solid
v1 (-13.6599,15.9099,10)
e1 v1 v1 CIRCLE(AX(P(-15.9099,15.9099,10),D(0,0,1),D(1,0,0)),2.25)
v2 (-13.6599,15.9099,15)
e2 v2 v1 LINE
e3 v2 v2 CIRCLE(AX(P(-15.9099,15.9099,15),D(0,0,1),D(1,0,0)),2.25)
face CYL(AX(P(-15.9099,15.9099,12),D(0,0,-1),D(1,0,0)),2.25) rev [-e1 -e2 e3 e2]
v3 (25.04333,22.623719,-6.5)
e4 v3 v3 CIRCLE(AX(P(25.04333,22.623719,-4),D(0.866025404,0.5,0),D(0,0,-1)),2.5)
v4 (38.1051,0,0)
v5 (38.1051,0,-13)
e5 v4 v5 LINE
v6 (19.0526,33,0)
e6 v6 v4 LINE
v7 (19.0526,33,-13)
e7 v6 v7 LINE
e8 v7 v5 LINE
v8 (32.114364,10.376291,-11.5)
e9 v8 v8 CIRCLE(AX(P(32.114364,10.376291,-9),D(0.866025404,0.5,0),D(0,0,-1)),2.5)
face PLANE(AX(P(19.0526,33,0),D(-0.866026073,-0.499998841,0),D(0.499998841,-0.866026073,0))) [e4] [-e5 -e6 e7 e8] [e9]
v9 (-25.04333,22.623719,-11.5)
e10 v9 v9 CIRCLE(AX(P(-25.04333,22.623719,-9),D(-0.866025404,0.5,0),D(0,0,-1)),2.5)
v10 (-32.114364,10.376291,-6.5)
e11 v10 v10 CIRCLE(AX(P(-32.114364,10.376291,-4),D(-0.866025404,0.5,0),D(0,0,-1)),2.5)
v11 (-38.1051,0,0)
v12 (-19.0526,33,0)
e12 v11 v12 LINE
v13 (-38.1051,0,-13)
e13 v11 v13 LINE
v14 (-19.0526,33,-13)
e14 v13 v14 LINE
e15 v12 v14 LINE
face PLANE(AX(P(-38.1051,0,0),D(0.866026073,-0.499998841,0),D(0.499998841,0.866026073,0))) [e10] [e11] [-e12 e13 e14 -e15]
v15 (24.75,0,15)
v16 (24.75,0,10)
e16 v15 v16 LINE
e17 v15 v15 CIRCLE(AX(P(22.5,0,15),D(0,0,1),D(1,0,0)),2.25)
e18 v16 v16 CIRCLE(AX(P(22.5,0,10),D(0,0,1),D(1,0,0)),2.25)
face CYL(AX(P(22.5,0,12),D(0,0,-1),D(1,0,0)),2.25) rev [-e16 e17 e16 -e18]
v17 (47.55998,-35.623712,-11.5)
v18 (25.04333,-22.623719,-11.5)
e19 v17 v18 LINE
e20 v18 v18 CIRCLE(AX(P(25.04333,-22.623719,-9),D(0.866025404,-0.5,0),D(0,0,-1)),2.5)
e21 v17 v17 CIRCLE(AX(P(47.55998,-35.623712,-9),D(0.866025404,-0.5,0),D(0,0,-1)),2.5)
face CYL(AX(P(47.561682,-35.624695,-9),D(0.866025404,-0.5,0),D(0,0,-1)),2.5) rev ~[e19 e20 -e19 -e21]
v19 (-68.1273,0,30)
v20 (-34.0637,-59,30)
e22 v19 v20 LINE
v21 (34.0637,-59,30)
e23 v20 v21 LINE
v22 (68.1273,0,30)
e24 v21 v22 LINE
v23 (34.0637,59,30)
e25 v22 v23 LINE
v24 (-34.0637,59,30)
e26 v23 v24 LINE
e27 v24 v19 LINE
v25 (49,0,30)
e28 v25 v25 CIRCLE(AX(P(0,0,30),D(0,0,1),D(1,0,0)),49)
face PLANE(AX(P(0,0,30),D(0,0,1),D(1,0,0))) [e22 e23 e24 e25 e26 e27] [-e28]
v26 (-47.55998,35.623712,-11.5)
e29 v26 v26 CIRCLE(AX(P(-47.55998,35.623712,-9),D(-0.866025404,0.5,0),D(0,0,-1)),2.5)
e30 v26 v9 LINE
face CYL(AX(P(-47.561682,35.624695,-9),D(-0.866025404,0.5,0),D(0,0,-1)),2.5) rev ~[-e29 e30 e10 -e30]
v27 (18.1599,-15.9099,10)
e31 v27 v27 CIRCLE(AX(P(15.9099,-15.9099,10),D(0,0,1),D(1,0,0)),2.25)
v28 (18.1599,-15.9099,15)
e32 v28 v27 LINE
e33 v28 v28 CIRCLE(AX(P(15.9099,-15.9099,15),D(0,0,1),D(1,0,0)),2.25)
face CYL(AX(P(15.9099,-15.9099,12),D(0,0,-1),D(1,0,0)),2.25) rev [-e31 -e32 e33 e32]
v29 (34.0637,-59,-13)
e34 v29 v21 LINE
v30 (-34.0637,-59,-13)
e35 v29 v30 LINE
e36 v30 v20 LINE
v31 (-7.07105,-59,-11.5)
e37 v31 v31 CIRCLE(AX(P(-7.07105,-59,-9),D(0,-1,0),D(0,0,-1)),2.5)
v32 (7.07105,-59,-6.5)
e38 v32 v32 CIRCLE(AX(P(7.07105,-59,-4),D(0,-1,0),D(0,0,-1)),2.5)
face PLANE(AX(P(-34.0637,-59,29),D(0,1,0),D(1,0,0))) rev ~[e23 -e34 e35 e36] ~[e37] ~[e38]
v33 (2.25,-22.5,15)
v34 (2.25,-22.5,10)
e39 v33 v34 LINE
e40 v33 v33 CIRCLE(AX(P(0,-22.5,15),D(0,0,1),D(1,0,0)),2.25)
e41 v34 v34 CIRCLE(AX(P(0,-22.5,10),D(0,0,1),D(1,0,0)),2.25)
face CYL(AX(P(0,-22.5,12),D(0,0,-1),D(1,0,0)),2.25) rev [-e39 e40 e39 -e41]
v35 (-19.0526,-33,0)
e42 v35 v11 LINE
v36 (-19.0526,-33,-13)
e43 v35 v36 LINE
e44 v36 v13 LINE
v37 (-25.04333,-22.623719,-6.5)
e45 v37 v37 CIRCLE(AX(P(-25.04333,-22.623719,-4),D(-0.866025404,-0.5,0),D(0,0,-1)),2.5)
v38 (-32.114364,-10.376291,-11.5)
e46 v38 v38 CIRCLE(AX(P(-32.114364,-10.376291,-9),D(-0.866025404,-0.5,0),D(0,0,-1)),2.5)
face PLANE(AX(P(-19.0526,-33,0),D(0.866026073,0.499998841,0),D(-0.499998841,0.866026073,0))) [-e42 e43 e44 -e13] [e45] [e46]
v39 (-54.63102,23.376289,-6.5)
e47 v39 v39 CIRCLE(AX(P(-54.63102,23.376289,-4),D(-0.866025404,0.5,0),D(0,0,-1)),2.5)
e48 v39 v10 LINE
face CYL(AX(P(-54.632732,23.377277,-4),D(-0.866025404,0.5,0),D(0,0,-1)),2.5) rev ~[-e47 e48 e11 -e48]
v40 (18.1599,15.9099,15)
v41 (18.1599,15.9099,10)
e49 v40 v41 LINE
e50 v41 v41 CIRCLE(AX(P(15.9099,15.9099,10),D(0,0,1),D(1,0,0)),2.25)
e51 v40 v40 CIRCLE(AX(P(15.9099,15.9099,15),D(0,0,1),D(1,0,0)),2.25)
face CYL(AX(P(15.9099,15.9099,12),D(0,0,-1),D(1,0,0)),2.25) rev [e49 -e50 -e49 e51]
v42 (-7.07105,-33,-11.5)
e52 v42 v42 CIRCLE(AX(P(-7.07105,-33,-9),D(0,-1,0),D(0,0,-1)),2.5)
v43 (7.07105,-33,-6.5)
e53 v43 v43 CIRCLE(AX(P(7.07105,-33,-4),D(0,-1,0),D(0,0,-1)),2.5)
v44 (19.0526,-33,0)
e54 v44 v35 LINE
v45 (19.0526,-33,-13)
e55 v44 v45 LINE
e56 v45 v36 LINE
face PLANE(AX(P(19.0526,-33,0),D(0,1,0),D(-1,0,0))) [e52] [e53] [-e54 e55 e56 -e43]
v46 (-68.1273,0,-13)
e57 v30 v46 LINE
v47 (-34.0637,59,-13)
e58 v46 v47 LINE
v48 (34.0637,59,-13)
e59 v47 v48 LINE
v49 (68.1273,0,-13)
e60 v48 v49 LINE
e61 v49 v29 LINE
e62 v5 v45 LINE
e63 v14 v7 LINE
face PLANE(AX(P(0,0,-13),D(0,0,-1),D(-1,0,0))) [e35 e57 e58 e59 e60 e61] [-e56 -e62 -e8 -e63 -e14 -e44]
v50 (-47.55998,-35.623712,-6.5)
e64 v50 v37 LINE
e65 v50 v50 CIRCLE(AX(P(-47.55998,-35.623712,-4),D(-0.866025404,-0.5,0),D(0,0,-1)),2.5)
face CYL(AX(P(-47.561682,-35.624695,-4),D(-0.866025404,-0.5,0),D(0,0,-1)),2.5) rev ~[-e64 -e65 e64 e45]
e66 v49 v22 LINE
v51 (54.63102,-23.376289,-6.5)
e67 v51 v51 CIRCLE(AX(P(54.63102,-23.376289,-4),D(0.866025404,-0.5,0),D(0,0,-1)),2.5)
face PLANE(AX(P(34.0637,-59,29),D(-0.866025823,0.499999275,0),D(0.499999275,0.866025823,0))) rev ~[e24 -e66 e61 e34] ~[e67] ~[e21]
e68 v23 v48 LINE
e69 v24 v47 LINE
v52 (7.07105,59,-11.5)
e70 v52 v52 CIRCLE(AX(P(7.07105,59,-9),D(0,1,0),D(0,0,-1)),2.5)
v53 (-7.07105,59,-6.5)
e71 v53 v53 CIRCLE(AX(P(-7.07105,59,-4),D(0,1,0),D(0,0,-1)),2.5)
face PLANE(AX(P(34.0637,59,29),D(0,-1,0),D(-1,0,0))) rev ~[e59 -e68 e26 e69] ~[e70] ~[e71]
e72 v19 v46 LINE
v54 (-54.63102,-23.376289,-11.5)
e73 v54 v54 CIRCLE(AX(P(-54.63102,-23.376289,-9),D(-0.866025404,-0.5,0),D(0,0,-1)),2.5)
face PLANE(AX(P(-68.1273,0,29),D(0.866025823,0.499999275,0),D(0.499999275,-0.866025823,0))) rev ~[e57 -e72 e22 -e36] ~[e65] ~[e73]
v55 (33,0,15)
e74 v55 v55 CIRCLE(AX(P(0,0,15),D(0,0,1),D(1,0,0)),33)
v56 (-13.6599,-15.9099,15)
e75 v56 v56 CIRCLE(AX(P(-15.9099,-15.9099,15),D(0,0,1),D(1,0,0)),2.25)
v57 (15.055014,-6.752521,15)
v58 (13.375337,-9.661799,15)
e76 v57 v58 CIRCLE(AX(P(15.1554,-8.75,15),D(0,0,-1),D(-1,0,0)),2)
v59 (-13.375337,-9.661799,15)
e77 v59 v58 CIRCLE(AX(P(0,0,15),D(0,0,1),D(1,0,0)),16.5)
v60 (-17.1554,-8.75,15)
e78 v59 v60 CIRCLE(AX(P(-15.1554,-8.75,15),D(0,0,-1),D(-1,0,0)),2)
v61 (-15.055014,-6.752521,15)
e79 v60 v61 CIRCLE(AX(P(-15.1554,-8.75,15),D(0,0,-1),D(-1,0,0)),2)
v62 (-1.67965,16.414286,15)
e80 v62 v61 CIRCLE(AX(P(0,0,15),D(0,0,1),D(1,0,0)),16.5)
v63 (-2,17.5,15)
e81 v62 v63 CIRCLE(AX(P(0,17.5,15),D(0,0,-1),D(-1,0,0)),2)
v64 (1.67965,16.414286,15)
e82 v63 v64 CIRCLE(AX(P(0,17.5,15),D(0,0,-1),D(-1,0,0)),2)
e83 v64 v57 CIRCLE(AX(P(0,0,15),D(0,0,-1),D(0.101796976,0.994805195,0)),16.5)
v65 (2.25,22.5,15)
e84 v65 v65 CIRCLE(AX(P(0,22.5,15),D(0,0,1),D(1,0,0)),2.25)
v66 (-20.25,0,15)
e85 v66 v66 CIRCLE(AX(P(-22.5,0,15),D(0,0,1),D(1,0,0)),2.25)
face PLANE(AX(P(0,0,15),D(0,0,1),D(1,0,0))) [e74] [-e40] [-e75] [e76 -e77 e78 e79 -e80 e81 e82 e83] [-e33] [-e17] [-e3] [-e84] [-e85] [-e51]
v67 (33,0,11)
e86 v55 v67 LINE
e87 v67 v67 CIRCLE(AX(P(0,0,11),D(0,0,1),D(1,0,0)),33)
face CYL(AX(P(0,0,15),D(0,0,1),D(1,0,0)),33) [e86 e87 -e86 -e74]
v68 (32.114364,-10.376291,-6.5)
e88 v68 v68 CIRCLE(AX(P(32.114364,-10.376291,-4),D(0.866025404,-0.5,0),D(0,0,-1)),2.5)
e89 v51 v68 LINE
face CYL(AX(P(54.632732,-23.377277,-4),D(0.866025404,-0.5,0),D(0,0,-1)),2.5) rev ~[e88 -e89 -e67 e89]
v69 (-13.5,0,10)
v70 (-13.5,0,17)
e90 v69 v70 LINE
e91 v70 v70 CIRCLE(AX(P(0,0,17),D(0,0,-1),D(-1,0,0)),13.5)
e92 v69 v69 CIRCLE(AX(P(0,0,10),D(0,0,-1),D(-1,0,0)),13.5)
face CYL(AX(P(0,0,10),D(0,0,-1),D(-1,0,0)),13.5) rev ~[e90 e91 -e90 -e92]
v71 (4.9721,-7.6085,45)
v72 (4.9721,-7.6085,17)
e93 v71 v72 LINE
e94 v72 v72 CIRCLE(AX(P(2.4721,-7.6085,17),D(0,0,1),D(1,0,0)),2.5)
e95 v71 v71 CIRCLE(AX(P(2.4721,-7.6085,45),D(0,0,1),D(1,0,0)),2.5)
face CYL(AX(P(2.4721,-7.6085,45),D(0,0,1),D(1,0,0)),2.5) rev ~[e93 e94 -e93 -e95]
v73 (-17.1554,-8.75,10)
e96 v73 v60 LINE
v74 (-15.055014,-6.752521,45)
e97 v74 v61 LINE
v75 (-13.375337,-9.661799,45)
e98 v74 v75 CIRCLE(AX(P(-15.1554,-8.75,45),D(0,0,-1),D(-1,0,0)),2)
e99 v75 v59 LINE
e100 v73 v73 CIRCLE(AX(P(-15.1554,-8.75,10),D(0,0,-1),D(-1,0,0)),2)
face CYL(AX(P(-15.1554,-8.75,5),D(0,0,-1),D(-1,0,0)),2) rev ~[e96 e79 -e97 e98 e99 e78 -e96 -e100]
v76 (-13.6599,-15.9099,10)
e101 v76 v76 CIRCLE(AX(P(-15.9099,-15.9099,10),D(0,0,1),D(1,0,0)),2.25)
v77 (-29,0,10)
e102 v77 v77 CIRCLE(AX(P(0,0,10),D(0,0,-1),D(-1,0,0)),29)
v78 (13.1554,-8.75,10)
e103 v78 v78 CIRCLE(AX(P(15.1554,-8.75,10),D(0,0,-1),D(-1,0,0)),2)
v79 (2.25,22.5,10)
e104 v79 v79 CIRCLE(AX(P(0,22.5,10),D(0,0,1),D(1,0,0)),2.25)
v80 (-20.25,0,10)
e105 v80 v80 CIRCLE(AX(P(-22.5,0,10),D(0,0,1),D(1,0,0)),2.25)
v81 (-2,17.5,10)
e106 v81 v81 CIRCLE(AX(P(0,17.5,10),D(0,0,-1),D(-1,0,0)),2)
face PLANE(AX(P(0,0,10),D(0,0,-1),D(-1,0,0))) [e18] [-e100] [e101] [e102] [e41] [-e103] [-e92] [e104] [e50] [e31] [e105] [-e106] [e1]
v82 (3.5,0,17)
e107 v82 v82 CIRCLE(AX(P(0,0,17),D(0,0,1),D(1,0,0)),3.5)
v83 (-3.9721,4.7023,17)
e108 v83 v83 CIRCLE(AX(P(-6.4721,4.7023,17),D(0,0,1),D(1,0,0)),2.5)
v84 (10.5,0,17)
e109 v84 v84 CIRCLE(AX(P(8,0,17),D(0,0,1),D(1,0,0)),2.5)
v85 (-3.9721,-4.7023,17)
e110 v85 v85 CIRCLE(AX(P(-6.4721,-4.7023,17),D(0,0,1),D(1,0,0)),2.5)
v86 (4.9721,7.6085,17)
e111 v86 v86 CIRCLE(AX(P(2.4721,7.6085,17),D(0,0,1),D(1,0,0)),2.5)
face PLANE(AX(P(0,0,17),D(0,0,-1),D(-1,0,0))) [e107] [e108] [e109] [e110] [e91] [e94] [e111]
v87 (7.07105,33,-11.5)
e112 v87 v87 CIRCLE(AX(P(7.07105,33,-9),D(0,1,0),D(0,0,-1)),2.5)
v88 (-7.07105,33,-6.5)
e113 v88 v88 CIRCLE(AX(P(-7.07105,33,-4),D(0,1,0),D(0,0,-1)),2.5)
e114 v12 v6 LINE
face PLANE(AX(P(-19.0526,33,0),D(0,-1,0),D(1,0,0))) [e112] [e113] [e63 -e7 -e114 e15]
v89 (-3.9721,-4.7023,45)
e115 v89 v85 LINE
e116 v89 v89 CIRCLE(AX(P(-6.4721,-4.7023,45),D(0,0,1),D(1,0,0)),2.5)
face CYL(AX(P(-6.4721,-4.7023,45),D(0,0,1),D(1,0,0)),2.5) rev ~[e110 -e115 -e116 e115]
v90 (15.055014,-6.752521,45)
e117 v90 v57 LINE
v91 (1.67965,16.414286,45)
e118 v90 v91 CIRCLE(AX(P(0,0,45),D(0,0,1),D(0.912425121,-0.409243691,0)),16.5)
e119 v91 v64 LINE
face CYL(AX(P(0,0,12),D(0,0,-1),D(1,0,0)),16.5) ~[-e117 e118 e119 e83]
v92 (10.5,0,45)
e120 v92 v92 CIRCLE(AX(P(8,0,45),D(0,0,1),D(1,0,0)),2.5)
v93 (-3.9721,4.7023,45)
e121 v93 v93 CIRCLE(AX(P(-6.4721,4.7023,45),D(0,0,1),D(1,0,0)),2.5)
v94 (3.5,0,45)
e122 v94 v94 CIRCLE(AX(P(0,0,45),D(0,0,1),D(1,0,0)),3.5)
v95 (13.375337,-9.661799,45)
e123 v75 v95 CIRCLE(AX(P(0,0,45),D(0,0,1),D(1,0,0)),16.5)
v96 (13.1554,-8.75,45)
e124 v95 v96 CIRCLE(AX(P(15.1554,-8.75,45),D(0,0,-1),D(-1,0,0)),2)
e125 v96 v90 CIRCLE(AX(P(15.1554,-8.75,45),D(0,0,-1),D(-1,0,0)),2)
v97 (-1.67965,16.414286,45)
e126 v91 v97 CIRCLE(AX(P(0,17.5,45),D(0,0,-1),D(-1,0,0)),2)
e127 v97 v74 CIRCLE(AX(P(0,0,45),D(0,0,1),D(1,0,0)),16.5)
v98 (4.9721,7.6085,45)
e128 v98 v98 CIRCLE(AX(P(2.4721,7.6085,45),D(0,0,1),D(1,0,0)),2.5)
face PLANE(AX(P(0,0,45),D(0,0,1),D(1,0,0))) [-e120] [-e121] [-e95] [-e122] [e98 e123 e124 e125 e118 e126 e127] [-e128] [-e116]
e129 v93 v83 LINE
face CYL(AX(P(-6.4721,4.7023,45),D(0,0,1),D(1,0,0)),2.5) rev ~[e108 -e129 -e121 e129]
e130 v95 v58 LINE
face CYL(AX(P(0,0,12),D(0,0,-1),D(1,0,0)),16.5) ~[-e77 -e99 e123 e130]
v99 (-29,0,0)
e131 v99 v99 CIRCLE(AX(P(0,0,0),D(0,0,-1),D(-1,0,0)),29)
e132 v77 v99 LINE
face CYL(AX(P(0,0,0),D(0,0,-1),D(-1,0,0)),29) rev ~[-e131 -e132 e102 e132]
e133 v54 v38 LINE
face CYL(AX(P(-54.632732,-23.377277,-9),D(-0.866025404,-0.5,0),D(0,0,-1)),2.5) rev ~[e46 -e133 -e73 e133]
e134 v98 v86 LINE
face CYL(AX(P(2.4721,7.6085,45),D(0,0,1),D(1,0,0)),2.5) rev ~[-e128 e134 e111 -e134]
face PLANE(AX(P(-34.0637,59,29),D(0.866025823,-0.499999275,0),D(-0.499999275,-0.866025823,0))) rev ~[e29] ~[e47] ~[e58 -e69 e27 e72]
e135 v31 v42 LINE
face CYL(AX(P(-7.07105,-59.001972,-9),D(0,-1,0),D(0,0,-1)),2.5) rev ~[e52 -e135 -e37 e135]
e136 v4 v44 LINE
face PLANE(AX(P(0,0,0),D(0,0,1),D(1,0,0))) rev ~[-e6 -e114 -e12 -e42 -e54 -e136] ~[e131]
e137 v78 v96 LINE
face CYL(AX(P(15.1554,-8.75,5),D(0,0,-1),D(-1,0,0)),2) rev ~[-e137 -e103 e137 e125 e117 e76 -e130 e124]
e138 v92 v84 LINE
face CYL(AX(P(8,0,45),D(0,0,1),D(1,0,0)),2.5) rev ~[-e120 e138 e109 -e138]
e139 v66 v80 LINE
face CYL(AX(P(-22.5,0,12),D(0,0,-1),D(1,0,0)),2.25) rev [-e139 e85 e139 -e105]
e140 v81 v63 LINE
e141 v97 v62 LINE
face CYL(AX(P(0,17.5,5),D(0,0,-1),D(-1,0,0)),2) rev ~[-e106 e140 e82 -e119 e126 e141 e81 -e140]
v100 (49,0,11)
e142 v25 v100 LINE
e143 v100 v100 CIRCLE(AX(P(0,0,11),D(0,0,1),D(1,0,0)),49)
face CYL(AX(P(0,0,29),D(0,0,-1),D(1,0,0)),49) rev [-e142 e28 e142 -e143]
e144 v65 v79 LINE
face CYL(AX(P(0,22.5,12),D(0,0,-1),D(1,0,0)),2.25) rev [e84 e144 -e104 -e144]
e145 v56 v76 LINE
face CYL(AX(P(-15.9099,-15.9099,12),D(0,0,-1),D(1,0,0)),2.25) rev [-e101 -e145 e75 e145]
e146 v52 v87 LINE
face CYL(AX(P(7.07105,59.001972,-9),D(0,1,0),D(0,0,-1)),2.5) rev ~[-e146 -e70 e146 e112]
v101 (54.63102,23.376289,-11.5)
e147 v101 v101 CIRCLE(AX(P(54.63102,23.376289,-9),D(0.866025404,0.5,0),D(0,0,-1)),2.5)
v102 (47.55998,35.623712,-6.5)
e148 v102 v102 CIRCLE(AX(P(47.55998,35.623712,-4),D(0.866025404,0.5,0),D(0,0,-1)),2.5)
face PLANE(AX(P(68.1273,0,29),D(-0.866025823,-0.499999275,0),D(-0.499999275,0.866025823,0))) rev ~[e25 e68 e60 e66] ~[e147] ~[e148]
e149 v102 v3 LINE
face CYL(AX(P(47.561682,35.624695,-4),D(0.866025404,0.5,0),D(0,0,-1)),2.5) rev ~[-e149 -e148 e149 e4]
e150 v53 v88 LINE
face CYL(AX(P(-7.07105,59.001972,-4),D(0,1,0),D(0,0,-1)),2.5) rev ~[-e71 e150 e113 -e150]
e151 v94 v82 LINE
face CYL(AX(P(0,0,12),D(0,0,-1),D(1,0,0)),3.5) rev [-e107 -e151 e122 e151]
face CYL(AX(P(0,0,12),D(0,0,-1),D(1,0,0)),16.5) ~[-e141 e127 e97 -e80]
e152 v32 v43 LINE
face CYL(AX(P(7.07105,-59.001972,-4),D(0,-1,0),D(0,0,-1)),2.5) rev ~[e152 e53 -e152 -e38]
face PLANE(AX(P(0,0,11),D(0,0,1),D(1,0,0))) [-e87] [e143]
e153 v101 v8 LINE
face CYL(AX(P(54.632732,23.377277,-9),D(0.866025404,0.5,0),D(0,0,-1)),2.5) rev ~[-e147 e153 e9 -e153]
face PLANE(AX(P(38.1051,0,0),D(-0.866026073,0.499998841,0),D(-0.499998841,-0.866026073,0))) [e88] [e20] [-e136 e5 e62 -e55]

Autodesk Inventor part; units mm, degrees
ref_plane "YZ Plane" through (0, 0, 0) normal (1, 0, 0) x (0, 1, 0)
ref_plane "XZ Plane" through (0, 0, 0) normal (0, 1, 0) x (-1, 0, 0)
ref_plane "XY Plane" through (0, 0, 0) normal (0, 0, 1) x (1, 0, 0)
sketch "Sketch1" plane through (0, 0, 0) normal (0, 0, 1) x (1, 0, 0)
  circle A0 centre (0, 0) radius 3.5
  line L0 (77.9423, 0) -> (38.9711, -67.5)
  line L1 (38.9711, -67.5) -> (-38.9711, -67.5)
  line L2 (-38.9711, -67.5) -> (-77.9423, 0)
  line L3 (-77.9423, 0) -> (-38.9711, 67.5)
  line L4 (-38.9711, 67.5) -> (38.9711, 67.5)
  line L5 (38.9711, 67.5) -> (77.9423, 0)
  circle A1 centre (22.5, 0) radius 2.25
  circle A2 centre (54, 0) radius 2
  circle A3 centre (15.9099, 15.9099) radius 2.25
  circle A4 centre (0, 22.5) radius 2.25
  circle A5 centre (-15.9099, 15.9099) radius 2.25
  circle A6 centre (-22.5, 0) radius 2.25
  circle A7 centre (-15.9099, -15.9099) radius 2.25
  circle A8 centre (0, -22.5) radius 2.25
  circle A9 centre (15.9099, -15.9099) radius 2.25
  circle A10 centre (46.7654, 27) radius 2
  circle A11 centre (27, 46.7654) radius 2
  circle A12 centre (0, 54) radius 2
  circle A13 centre (-27, 46.7654) radius 2
  circle A14 centre (-46.7654, 27) radius 2
  circle A15 centre (-54, 0) radius 2
  circle A16 centre (-46.7654, -27) radius 2
  circle A17 centre (-27, -46.7654) radius 2
  circle A18 centre (0, -54) radius 2
  circle A19 centre (27, -46.7654) radius 2
  circle A20 centre (46.7654, -27) radius 2
  dimension "d0" = 7
  dimension "d1" = 135
  dimension "d2" = 22.5
  dimension "d3" = 4.5
  dimension "d4" = 4
  dimension "d5" = 54
  dimension "d8" = 360
  dimension "d12" = 360
extrude "Extrusion1" add sketch "Sketch1" along normal blind 30
sketch "Sketch2" plane through (0, 0, 30) normal (0, 0, 1) x (1, 0, 0)
  circle A0 centre (0, 0) radius 3.5 projected
  circle A1 centre (0, 0) radius 49
  dimension "d16" = 98
extrude "Extrusion2" cut sketch "Sketch2" against normal blind 15
sketch "Sketch3" plane through (0, 0, 15) normal (0, 0, 1) x (1, 0, 0)
  circle A0 centre (0, 0) radius 33
  dimension "d19" = 66
extrude "Extrusion3" cut sketch "Sketch3" against normal blind 3
sketch "Sketch4" plane through (0, 0, 12) normal (0, 0, 1) x (1, 0, 0)
  circle A0 centre (0, 0) radius 16.5
  circle A1 centre (0, 0) radius 3.5 projected
  dimension "d22" = 33
extrude "Extrusion4" add sketch "Sketch4" along normal blind 33
sketch "Sketch5" plane through (0, 0, 45) normal (0, 0, 1) x (1, 0, 0)
  circle A0 centre (8, 0) radius 2.5
  circle A1 centre (2.4721, 7.6085) radius 2.5
  circle A2 centre (-6.4721, 4.7023) radius 2.5
  circle A3 centre (-6.4721, -4.7023) radius 2.5
  circle A4 centre (2.4721, -7.6085) radius 2.5
  point P0 (0, 0)
  dimension "d25" = 5
  dimension "d26" = 8
  dimension "d29" = 360
extrude "Extrusion5" cut sketch "Sketch5" against normal through all
sketch "Sketch6" plane through (0, 0, 0) normal (0, 0, -1) x (-1, 0, 0)
  circle A0 centre (0, 0) radius 17.5
  dimension "d33" = 35
extrude "Extrusion6" cut sketch "Sketch6" against normal blind 5
sketch "Sketch10" plane through (0, 0, 0) normal (0, 0, -1) x (-1, 0, 0)
  circle A0 centre (22.5, 0) radius 2.25 projected
  circle A1 centre (0, 0) radius 3.5 projected
  circle A2 centre (0, 0) radius 20.25
  circle A3 centre (0, 0) radius 24.75
  circle A4 centre (0, 0) radius 16
  circle A5 centre (0, 0) radius 29
  line L0 (29, 0) -> (16, 0)
  dimension "d38" = 13
extrude "Extrusion7" cut sketch "Sketch10" against normal blind 5 contours L0 A0 | A2 | A3 | A5 | A0 L0
sketch "Sketch11" plane through (0, 0, 12) normal (0, 0, 1) x (1, 0, 0)
  circle A0 centre (0, 0) radius 16.5 projected
  circle A1 centre (15.9099, -15.9099) radius 2.25 projected
  circle A2 centre (0, -22.5) radius 2.25 projected
  circle A3 centre (-15.9099, -15.9099) radius 2.25 projected
  circle A4 centre (-22.5, 0) radius 2.25 projected
  circle A5 centre (-15.9099, 15.9099) radius 2.25 projected
  circle A6 centre (0, 22.5) radius 2.25 projected
  circle A7 centre (15.9099, 15.9099) radius 2.25 projected
  circle A8 centre (22.5, 0) radius 2.25 projected
  circle A9 centre (0, 0) radius 33 projected
extrude "Extrusion8" add sketch "Sketch11" along normal up to surface (3 mm away) from surface at 0
sketch "Sketch12" plane through (0, 0, 30) normal (0, 0, 1) x (1, 0, 0)
  circle A0 centre (0, 0) radius 49 projected
  circle A1 centre (46.7654, -27) radius 2 projected
  circle A2 centre (27, -46.7654) radius 2 projected
  circle A3 centre (0, -54) radius 2 projected
  circle A4 centre (-27, -46.7654) radius 2 projected
  circle A5 centre (-46.7654, -27) radius 2 projected
  circle A6 centre (-54, 0) radius 2 projected
  circle A7 centre (-46.7654, 27) radius 2 projected
  circle A8 centre (-27, 46.7654) radius 2 projected
  circle A9 centre (0, 54) radius 2 projected
  circle A10 centre (27, 46.7654) radius 2 projected
  circle A11 centre (46.7654, 27) radius 2 projected
  circle A12 centre (54, 0) radius 2 projected
  line L0 (38.9711, -67.5) -> (77.9423, 0) projected
  line L1 (77.9423, 0) -> (38.9711, 67.5) projected
  line L2 (38.9711, 67.5) -> (-38.9711, 67.5) projected
  line L3 (-38.9711, 67.5) -> (-77.9423, 0) projected
  line L4 (-77.9423, 0) -> (-38.9711, -67.5) projected
  line L5 (-38.9711, -67.5) -> (38.9711, -67.5) projected
extrude "Extrusion9" cut sketch "Sketch12" against normal blind 1
sketch "Sketch14" plane through (0, 0, 15) normal (0, 0, 1) x (1, 0, 0)
  circle A0 centre (0, 0) radius 3.5 projected
  circle A1 centre (0, 0) radius 33
  circle A2 centre (15.9099, -15.9099) radius 2.25 projected
  circle A3 centre (0, -22.5) radius 2.25 projected
  circle A4 centre (-15.9099, -15.9099) radius 2.25 projected
  circle A5 centre (-22.5, 0) radius 2.25 projected
  circle A6 centre (-15.9099, 15.9099) radius 2.25 projected
  circle A7 centre (0, 22.5) radius 2.25 projected
  circle A8 centre (15.9099, 15.9099) radius 2.25 projected
  circle A9 centre (22.5, 0) radius 2.25 projected
  circle A10 centre (0, 0) radius 16.5 projected
  circle A11 centre (0, 0) radius 49 projected
  dimension "d45" = 66
extrude "Extrusion10" cut sketch "Sketch14" against normal blind 4 contours A11
sketch "Sketch15" plane through (0, 0, 29) normal (0, 0, 1) x (1, 0, 0)
  circle A0 centre (0, 0) radius 49 construction
  circle A1 centre (54, 0) radius 2 construction
  circle A2 centre (46.7654, 27) radius 2 construction
  circle A3 centre (27, 46.7654) radius 2 construction
  circle A4 centre (0, 54) radius 2 construction
  circle A5 centre (-27, 46.7654) radius 2 construction
  circle A6 centre (-46.7654, 27) radius 2 construction
  circle A7 centre (-54, 0) radius 2 construction
  circle A8 centre (-46.7654, -27) radius 2 construction
  circle A9 centre (-27, -46.7654) radius 2 construction
  circle A10 centre (0, -54) radius 2 construction
  circle A11 centre (27, -46.7654) radius 2 construction
  circle A12 centre (46.7654, -27) radius 2 construction
  line L0 (77.9423, 0) -> (38.9711, -67.5) projected
  line L1 (38.9711, 67.5) -> (77.9423, 0) projected
  line L2 (-38.9711, 67.5) -> (38.9711, 67.5) projected
  line L3 (-77.9423, 0) -> (-38.9711, 67.5) projected
  line L4 (-38.9711, -67.5) -> (-77.9423, 0) projected
  line L5 (38.9711, -67.5) -> (-38.9711, -67.5) projected
  line L6 (36.0844, 62.5) -> (72.1688, 0)
  line L7 (72.1688, 0) -> (36.0844, -62.5)
  line L8 (36.0844, -62.5) -> (-36.0844, -62.5)
  line L9 (-36.0844, -62.5) -> (-72.1688, 0)
  line L10 (-72.1688, 0) -> (-36.0844, 62.5)
  line L11 (-36.0844, 62.5) -> (36.0844, 62.5)
  dimension "d48" = 5
extrude "Extrusion11" add sketch "Sketch15" along normal blind 0.8
sketch "Sketch16" plane through (0, 0, 0) normal (0, 0, -1) x (-1, 0, 0)
  circle A0 centre (0, 0) radius 29 projected
  circle A1 centre (-46.7654, -27) radius 2 projected
  circle A2 centre (-27, -46.7654) radius 2 projected
  circle A3 centre (0, -54) radius 2 projected
  circle A4 centre (27, -46.7654) radius 2 projected
  circle A5 centre (46.7654, -27) radius 2 projected
  circle A6 centre (54, 0) radius 2 projected
  circle A7 centre (46.7654, 27) radius 2 projected
  circle A8 centre (27, 46.7654) radius 2 projected
  circle A9 centre (0, 54) radius 2 projected
  circle A10 centre (-27, 46.7654) radius 2 projected
  circle A11 centre (-46.7654, 27) radius 2 projected
  circle A12 centre (-54, 0) radius 2 projected
  line L0 (-77.9423, 0) -> (-38.9711, -67.5) projected
  line L1 (-38.9711, -67.5) -> (38.9711, -67.5) projected
  line L2 (38.9711, -67.5) -> (77.9423, 0) projected
  line L3 (77.9423, 0) -> (38.9711, 67.5) projected
  line L4 (38.9711, 67.5) -> (-38.9711, 67.5) projected
  line L5 (-38.9711, 67.5) -> (-77.9423, 0) projected
  line L6 (68.1273, 0) -> (34.0637, -59)
  line L7 (34.0637, -59) -> (-34.0637, -59)
  line L8 (-34.0637, -59) -> (-68.1273, 0)
  line L9 (-68.1273, 0) -> (-34.0637, 59)
  line L10 (-34.0637, 59) -> (34.0637, 59)
  line L11 (34.0637, 59) -> (68.1273, 0)
  dimension "d51" = 118
extrude "Extrusion12" cut sketch "Sketch16" along normal through all both and the other way through all contours L5 L4 L3 L2 L1 L0
sketch "Sketch17" plane through (0, 0, 0) normal (0, 0, -1) x (-1, 0, 0)
  circle A0 centre (0, -54) radius 2 projected
  circle A1 centre (0, -54) radius 2
  circle A2 centre (27, -46.7654) radius 2
  circle A3 centre (46.7654, -27) radius 2
  circle A4 centre (54, 0) radius 2
  circle A5 centre (46.7654, 27) radius 2
  circle A6 centre (27, 46.7654) radius 2
  circle A7 centre (0, 54) radius 2
  circle A8 centre (-27, 46.7654) radius 2
  circle A9 centre (-46.7654, 27) radius 2
  circle A10 centre (-54, 0) radius 2
  circle A11 centre (-46.7654, -27) radius 2
  circle A12 centre (-27, -46.7654) radius 2
  point P0 (0, 0)
  dimension "d56" = 360
extrude "Extrusion13" add sketch "Sketch17" along normal up to surface (29 mm away) from surface at -29
sketch "Sketch18" plane through (0, 0, 0) normal (0, 0, -1) x (-1, 0, 0)
  line L0 (-46.188, 0) -> (-23.094, 40)
  line L1 (-23.094, 40) -> (23.094, 40)
  line L2 (23.094, 40) -> (46.188, 0)
  line L3 (46.188, 0) -> (23.094, -40)
  line L4 (23.094, -40) -> (-23.094, -40)
  line L5 (-23.094, -40) -> (-46.188, 0)
  line L6 (-19.0526, -33) -> (19.0526, -33)
  line L7 (19.0526, -33) -> (38.1051, 0)
  line L8 (38.1051, 0) -> (19.0526, 33)
  line L9 (19.0526, 33) -> (-19.0526, 33)
  line L10 (-19.0526, 33) -> (-38.1051, 0)
  line L11 (-38.1051, 0) -> (-19.0526, -33)
  line L12 (-34.0637, -59) -> (34.0637, -59) projected
  line L13 (34.0637, -59) -> (68.1273, 0) projected
  line L14 (68.1273, 0) -> (34.0637, 59) projected
  line L15 (34.0637, 59) -> (-34.0637, 59) projected
  line L16 (-34.0637, 59) -> (-68.1273, 0) projected
  line L17 (-68.1273, 0) -> (-34.0637, -59) projected
  circle A0 centre (0, 0) radius 29 projected
  dimension "d60" = 80
  dimension "d61" = 7
extrude "Extrusion14" add sketch "Sketch18" along normal blind 13 contours L0 L1 L2 L3 L4 L5 | L17 L16 L15 L14 L13 L12
sketch "Sketch19" plane through (68.1273, 0, 29) normal (0.866, 0.5, 0) x (0, 0, -1)
  line L0 (29, 15.0111) -> (29, 53.1162) projected
  line L1 (29, 15.0111) -> (42, 15.0111) projected
  line L2 (42, 53.1162) -> (42, 15.0111) projected
  line L3 (29, 53.1162) -> (42, 53.1162) projected
  line L4 (38, 26.9926) -> (33, 41.1347) construction
  circle A0 centre (38, 26.9926) radius 2.5
  circle A1 centre (33, 41.1347) radius 2.5
  point P0 (29, 34.0637)
  point P1 (35.5, 15.0111)
  point P2 (35.5, 34.0637)
  point P3 (29, 34.0637)
  dimension "d64" = 15
  dimension "d65" = 5
  dimension "d66" = 5
  dimension "d72" = 5
extrude "Extrusion15" cut sketch "Sketch19" against normal blind 30 contours A0 | A1
pattern_circular "Circular Pattern1" count 6 over 360 about axis through (0, 0, 0) along (0, 0, 1) of "Extrusion15"
sketch "Sketch21" plane through (0, 0, 5) normal (0, 0, -1) x (-1, 0, 0)
  circle A0 centre (0, 17.5) radius 2
  circle A1 centre (-15.1554, -8.75) radius 2
  circle A2 centre (15.1554, -8.75) radius 2
  point P0 (0, 0)
  dimension "d74" = 4
  dimension "d75" = 17.5
  dimension "d78" = 360
extrude "Extrusion16" cut sketch "Sketch21" against normal through all
sketch "Sketch22" plane through (0, 0, 5) normal (0, 0, -1) x (-1, 0, 0)
  circle A0 centre (-15.1554, -8.75) radius 2 projected
  circle A1 centre (0, 17.5) radius 2 projected
  circle A2 centre (15.1554, -8.75) radius 2 projected
  circle A3 centre (0, 0) radius 29 projected
  circle A4 centre (-22.5, 0) radius 2.25 projected
  circle A5 centre (-15.9099, 15.9099) radius 2.25 projected
  circle A6 centre (0, 22.5) radius 2.25 projected
  circle A7 centre (15.9099, 15.9099) radius 2.25 projected
  circle A8 centre (22.5, 0) radius 2.25 projected
  circle A9 centre (15.9099, -15.9099) radius 2.25 projected
  circle A10 centre (0, -22.5) radius 2.25 projected
  circle A11 centre (-15.9099, -15.9099) radius 2.25 projected
  circle A12 centre (0, 0) radius 3.5 projected
extrude "Extrusion17" cut sketch "Sketch22" against normal blind 5
sketch "Sketch23" plane through (0, 0, 10) normal (0, 0, -1) x (-1, 0, 0)
  circle A0 centre (0, 0) radius 3.5 projected
  circle A1 centre (0, 0) radius 13.5
  dimension "d84" = 27
extrude "Extrusion18" cut sketch "Sketch23" against normal blind 7
sketch "Sketch24" plane through (0, 0, 29) normal (0, 0, 1) x (1, 0, 0)
  line L0 (-34.0637, -59) -> (34.0637, -59) projected
  line L1 (34.0637, -59) -> (68.1273, 0) projected
  line L2 (68.1273, 0) -> (34.0637, 59) projected
  line L3 (34.0637, 59) -> (-34.0637, 59) projected
  line L4 (-34.0637, 59) -> (-68.1273, 0) projected
  line L5 (-68.1273, 0) -> (-34.0637, -59) projected
  circle A0 centre (0, 0) radius 49 projected
extrude "Extrusion19" add sketch "Sketch24" along normal blind 1
properties part number "AC05" material "ABS Plastic"
